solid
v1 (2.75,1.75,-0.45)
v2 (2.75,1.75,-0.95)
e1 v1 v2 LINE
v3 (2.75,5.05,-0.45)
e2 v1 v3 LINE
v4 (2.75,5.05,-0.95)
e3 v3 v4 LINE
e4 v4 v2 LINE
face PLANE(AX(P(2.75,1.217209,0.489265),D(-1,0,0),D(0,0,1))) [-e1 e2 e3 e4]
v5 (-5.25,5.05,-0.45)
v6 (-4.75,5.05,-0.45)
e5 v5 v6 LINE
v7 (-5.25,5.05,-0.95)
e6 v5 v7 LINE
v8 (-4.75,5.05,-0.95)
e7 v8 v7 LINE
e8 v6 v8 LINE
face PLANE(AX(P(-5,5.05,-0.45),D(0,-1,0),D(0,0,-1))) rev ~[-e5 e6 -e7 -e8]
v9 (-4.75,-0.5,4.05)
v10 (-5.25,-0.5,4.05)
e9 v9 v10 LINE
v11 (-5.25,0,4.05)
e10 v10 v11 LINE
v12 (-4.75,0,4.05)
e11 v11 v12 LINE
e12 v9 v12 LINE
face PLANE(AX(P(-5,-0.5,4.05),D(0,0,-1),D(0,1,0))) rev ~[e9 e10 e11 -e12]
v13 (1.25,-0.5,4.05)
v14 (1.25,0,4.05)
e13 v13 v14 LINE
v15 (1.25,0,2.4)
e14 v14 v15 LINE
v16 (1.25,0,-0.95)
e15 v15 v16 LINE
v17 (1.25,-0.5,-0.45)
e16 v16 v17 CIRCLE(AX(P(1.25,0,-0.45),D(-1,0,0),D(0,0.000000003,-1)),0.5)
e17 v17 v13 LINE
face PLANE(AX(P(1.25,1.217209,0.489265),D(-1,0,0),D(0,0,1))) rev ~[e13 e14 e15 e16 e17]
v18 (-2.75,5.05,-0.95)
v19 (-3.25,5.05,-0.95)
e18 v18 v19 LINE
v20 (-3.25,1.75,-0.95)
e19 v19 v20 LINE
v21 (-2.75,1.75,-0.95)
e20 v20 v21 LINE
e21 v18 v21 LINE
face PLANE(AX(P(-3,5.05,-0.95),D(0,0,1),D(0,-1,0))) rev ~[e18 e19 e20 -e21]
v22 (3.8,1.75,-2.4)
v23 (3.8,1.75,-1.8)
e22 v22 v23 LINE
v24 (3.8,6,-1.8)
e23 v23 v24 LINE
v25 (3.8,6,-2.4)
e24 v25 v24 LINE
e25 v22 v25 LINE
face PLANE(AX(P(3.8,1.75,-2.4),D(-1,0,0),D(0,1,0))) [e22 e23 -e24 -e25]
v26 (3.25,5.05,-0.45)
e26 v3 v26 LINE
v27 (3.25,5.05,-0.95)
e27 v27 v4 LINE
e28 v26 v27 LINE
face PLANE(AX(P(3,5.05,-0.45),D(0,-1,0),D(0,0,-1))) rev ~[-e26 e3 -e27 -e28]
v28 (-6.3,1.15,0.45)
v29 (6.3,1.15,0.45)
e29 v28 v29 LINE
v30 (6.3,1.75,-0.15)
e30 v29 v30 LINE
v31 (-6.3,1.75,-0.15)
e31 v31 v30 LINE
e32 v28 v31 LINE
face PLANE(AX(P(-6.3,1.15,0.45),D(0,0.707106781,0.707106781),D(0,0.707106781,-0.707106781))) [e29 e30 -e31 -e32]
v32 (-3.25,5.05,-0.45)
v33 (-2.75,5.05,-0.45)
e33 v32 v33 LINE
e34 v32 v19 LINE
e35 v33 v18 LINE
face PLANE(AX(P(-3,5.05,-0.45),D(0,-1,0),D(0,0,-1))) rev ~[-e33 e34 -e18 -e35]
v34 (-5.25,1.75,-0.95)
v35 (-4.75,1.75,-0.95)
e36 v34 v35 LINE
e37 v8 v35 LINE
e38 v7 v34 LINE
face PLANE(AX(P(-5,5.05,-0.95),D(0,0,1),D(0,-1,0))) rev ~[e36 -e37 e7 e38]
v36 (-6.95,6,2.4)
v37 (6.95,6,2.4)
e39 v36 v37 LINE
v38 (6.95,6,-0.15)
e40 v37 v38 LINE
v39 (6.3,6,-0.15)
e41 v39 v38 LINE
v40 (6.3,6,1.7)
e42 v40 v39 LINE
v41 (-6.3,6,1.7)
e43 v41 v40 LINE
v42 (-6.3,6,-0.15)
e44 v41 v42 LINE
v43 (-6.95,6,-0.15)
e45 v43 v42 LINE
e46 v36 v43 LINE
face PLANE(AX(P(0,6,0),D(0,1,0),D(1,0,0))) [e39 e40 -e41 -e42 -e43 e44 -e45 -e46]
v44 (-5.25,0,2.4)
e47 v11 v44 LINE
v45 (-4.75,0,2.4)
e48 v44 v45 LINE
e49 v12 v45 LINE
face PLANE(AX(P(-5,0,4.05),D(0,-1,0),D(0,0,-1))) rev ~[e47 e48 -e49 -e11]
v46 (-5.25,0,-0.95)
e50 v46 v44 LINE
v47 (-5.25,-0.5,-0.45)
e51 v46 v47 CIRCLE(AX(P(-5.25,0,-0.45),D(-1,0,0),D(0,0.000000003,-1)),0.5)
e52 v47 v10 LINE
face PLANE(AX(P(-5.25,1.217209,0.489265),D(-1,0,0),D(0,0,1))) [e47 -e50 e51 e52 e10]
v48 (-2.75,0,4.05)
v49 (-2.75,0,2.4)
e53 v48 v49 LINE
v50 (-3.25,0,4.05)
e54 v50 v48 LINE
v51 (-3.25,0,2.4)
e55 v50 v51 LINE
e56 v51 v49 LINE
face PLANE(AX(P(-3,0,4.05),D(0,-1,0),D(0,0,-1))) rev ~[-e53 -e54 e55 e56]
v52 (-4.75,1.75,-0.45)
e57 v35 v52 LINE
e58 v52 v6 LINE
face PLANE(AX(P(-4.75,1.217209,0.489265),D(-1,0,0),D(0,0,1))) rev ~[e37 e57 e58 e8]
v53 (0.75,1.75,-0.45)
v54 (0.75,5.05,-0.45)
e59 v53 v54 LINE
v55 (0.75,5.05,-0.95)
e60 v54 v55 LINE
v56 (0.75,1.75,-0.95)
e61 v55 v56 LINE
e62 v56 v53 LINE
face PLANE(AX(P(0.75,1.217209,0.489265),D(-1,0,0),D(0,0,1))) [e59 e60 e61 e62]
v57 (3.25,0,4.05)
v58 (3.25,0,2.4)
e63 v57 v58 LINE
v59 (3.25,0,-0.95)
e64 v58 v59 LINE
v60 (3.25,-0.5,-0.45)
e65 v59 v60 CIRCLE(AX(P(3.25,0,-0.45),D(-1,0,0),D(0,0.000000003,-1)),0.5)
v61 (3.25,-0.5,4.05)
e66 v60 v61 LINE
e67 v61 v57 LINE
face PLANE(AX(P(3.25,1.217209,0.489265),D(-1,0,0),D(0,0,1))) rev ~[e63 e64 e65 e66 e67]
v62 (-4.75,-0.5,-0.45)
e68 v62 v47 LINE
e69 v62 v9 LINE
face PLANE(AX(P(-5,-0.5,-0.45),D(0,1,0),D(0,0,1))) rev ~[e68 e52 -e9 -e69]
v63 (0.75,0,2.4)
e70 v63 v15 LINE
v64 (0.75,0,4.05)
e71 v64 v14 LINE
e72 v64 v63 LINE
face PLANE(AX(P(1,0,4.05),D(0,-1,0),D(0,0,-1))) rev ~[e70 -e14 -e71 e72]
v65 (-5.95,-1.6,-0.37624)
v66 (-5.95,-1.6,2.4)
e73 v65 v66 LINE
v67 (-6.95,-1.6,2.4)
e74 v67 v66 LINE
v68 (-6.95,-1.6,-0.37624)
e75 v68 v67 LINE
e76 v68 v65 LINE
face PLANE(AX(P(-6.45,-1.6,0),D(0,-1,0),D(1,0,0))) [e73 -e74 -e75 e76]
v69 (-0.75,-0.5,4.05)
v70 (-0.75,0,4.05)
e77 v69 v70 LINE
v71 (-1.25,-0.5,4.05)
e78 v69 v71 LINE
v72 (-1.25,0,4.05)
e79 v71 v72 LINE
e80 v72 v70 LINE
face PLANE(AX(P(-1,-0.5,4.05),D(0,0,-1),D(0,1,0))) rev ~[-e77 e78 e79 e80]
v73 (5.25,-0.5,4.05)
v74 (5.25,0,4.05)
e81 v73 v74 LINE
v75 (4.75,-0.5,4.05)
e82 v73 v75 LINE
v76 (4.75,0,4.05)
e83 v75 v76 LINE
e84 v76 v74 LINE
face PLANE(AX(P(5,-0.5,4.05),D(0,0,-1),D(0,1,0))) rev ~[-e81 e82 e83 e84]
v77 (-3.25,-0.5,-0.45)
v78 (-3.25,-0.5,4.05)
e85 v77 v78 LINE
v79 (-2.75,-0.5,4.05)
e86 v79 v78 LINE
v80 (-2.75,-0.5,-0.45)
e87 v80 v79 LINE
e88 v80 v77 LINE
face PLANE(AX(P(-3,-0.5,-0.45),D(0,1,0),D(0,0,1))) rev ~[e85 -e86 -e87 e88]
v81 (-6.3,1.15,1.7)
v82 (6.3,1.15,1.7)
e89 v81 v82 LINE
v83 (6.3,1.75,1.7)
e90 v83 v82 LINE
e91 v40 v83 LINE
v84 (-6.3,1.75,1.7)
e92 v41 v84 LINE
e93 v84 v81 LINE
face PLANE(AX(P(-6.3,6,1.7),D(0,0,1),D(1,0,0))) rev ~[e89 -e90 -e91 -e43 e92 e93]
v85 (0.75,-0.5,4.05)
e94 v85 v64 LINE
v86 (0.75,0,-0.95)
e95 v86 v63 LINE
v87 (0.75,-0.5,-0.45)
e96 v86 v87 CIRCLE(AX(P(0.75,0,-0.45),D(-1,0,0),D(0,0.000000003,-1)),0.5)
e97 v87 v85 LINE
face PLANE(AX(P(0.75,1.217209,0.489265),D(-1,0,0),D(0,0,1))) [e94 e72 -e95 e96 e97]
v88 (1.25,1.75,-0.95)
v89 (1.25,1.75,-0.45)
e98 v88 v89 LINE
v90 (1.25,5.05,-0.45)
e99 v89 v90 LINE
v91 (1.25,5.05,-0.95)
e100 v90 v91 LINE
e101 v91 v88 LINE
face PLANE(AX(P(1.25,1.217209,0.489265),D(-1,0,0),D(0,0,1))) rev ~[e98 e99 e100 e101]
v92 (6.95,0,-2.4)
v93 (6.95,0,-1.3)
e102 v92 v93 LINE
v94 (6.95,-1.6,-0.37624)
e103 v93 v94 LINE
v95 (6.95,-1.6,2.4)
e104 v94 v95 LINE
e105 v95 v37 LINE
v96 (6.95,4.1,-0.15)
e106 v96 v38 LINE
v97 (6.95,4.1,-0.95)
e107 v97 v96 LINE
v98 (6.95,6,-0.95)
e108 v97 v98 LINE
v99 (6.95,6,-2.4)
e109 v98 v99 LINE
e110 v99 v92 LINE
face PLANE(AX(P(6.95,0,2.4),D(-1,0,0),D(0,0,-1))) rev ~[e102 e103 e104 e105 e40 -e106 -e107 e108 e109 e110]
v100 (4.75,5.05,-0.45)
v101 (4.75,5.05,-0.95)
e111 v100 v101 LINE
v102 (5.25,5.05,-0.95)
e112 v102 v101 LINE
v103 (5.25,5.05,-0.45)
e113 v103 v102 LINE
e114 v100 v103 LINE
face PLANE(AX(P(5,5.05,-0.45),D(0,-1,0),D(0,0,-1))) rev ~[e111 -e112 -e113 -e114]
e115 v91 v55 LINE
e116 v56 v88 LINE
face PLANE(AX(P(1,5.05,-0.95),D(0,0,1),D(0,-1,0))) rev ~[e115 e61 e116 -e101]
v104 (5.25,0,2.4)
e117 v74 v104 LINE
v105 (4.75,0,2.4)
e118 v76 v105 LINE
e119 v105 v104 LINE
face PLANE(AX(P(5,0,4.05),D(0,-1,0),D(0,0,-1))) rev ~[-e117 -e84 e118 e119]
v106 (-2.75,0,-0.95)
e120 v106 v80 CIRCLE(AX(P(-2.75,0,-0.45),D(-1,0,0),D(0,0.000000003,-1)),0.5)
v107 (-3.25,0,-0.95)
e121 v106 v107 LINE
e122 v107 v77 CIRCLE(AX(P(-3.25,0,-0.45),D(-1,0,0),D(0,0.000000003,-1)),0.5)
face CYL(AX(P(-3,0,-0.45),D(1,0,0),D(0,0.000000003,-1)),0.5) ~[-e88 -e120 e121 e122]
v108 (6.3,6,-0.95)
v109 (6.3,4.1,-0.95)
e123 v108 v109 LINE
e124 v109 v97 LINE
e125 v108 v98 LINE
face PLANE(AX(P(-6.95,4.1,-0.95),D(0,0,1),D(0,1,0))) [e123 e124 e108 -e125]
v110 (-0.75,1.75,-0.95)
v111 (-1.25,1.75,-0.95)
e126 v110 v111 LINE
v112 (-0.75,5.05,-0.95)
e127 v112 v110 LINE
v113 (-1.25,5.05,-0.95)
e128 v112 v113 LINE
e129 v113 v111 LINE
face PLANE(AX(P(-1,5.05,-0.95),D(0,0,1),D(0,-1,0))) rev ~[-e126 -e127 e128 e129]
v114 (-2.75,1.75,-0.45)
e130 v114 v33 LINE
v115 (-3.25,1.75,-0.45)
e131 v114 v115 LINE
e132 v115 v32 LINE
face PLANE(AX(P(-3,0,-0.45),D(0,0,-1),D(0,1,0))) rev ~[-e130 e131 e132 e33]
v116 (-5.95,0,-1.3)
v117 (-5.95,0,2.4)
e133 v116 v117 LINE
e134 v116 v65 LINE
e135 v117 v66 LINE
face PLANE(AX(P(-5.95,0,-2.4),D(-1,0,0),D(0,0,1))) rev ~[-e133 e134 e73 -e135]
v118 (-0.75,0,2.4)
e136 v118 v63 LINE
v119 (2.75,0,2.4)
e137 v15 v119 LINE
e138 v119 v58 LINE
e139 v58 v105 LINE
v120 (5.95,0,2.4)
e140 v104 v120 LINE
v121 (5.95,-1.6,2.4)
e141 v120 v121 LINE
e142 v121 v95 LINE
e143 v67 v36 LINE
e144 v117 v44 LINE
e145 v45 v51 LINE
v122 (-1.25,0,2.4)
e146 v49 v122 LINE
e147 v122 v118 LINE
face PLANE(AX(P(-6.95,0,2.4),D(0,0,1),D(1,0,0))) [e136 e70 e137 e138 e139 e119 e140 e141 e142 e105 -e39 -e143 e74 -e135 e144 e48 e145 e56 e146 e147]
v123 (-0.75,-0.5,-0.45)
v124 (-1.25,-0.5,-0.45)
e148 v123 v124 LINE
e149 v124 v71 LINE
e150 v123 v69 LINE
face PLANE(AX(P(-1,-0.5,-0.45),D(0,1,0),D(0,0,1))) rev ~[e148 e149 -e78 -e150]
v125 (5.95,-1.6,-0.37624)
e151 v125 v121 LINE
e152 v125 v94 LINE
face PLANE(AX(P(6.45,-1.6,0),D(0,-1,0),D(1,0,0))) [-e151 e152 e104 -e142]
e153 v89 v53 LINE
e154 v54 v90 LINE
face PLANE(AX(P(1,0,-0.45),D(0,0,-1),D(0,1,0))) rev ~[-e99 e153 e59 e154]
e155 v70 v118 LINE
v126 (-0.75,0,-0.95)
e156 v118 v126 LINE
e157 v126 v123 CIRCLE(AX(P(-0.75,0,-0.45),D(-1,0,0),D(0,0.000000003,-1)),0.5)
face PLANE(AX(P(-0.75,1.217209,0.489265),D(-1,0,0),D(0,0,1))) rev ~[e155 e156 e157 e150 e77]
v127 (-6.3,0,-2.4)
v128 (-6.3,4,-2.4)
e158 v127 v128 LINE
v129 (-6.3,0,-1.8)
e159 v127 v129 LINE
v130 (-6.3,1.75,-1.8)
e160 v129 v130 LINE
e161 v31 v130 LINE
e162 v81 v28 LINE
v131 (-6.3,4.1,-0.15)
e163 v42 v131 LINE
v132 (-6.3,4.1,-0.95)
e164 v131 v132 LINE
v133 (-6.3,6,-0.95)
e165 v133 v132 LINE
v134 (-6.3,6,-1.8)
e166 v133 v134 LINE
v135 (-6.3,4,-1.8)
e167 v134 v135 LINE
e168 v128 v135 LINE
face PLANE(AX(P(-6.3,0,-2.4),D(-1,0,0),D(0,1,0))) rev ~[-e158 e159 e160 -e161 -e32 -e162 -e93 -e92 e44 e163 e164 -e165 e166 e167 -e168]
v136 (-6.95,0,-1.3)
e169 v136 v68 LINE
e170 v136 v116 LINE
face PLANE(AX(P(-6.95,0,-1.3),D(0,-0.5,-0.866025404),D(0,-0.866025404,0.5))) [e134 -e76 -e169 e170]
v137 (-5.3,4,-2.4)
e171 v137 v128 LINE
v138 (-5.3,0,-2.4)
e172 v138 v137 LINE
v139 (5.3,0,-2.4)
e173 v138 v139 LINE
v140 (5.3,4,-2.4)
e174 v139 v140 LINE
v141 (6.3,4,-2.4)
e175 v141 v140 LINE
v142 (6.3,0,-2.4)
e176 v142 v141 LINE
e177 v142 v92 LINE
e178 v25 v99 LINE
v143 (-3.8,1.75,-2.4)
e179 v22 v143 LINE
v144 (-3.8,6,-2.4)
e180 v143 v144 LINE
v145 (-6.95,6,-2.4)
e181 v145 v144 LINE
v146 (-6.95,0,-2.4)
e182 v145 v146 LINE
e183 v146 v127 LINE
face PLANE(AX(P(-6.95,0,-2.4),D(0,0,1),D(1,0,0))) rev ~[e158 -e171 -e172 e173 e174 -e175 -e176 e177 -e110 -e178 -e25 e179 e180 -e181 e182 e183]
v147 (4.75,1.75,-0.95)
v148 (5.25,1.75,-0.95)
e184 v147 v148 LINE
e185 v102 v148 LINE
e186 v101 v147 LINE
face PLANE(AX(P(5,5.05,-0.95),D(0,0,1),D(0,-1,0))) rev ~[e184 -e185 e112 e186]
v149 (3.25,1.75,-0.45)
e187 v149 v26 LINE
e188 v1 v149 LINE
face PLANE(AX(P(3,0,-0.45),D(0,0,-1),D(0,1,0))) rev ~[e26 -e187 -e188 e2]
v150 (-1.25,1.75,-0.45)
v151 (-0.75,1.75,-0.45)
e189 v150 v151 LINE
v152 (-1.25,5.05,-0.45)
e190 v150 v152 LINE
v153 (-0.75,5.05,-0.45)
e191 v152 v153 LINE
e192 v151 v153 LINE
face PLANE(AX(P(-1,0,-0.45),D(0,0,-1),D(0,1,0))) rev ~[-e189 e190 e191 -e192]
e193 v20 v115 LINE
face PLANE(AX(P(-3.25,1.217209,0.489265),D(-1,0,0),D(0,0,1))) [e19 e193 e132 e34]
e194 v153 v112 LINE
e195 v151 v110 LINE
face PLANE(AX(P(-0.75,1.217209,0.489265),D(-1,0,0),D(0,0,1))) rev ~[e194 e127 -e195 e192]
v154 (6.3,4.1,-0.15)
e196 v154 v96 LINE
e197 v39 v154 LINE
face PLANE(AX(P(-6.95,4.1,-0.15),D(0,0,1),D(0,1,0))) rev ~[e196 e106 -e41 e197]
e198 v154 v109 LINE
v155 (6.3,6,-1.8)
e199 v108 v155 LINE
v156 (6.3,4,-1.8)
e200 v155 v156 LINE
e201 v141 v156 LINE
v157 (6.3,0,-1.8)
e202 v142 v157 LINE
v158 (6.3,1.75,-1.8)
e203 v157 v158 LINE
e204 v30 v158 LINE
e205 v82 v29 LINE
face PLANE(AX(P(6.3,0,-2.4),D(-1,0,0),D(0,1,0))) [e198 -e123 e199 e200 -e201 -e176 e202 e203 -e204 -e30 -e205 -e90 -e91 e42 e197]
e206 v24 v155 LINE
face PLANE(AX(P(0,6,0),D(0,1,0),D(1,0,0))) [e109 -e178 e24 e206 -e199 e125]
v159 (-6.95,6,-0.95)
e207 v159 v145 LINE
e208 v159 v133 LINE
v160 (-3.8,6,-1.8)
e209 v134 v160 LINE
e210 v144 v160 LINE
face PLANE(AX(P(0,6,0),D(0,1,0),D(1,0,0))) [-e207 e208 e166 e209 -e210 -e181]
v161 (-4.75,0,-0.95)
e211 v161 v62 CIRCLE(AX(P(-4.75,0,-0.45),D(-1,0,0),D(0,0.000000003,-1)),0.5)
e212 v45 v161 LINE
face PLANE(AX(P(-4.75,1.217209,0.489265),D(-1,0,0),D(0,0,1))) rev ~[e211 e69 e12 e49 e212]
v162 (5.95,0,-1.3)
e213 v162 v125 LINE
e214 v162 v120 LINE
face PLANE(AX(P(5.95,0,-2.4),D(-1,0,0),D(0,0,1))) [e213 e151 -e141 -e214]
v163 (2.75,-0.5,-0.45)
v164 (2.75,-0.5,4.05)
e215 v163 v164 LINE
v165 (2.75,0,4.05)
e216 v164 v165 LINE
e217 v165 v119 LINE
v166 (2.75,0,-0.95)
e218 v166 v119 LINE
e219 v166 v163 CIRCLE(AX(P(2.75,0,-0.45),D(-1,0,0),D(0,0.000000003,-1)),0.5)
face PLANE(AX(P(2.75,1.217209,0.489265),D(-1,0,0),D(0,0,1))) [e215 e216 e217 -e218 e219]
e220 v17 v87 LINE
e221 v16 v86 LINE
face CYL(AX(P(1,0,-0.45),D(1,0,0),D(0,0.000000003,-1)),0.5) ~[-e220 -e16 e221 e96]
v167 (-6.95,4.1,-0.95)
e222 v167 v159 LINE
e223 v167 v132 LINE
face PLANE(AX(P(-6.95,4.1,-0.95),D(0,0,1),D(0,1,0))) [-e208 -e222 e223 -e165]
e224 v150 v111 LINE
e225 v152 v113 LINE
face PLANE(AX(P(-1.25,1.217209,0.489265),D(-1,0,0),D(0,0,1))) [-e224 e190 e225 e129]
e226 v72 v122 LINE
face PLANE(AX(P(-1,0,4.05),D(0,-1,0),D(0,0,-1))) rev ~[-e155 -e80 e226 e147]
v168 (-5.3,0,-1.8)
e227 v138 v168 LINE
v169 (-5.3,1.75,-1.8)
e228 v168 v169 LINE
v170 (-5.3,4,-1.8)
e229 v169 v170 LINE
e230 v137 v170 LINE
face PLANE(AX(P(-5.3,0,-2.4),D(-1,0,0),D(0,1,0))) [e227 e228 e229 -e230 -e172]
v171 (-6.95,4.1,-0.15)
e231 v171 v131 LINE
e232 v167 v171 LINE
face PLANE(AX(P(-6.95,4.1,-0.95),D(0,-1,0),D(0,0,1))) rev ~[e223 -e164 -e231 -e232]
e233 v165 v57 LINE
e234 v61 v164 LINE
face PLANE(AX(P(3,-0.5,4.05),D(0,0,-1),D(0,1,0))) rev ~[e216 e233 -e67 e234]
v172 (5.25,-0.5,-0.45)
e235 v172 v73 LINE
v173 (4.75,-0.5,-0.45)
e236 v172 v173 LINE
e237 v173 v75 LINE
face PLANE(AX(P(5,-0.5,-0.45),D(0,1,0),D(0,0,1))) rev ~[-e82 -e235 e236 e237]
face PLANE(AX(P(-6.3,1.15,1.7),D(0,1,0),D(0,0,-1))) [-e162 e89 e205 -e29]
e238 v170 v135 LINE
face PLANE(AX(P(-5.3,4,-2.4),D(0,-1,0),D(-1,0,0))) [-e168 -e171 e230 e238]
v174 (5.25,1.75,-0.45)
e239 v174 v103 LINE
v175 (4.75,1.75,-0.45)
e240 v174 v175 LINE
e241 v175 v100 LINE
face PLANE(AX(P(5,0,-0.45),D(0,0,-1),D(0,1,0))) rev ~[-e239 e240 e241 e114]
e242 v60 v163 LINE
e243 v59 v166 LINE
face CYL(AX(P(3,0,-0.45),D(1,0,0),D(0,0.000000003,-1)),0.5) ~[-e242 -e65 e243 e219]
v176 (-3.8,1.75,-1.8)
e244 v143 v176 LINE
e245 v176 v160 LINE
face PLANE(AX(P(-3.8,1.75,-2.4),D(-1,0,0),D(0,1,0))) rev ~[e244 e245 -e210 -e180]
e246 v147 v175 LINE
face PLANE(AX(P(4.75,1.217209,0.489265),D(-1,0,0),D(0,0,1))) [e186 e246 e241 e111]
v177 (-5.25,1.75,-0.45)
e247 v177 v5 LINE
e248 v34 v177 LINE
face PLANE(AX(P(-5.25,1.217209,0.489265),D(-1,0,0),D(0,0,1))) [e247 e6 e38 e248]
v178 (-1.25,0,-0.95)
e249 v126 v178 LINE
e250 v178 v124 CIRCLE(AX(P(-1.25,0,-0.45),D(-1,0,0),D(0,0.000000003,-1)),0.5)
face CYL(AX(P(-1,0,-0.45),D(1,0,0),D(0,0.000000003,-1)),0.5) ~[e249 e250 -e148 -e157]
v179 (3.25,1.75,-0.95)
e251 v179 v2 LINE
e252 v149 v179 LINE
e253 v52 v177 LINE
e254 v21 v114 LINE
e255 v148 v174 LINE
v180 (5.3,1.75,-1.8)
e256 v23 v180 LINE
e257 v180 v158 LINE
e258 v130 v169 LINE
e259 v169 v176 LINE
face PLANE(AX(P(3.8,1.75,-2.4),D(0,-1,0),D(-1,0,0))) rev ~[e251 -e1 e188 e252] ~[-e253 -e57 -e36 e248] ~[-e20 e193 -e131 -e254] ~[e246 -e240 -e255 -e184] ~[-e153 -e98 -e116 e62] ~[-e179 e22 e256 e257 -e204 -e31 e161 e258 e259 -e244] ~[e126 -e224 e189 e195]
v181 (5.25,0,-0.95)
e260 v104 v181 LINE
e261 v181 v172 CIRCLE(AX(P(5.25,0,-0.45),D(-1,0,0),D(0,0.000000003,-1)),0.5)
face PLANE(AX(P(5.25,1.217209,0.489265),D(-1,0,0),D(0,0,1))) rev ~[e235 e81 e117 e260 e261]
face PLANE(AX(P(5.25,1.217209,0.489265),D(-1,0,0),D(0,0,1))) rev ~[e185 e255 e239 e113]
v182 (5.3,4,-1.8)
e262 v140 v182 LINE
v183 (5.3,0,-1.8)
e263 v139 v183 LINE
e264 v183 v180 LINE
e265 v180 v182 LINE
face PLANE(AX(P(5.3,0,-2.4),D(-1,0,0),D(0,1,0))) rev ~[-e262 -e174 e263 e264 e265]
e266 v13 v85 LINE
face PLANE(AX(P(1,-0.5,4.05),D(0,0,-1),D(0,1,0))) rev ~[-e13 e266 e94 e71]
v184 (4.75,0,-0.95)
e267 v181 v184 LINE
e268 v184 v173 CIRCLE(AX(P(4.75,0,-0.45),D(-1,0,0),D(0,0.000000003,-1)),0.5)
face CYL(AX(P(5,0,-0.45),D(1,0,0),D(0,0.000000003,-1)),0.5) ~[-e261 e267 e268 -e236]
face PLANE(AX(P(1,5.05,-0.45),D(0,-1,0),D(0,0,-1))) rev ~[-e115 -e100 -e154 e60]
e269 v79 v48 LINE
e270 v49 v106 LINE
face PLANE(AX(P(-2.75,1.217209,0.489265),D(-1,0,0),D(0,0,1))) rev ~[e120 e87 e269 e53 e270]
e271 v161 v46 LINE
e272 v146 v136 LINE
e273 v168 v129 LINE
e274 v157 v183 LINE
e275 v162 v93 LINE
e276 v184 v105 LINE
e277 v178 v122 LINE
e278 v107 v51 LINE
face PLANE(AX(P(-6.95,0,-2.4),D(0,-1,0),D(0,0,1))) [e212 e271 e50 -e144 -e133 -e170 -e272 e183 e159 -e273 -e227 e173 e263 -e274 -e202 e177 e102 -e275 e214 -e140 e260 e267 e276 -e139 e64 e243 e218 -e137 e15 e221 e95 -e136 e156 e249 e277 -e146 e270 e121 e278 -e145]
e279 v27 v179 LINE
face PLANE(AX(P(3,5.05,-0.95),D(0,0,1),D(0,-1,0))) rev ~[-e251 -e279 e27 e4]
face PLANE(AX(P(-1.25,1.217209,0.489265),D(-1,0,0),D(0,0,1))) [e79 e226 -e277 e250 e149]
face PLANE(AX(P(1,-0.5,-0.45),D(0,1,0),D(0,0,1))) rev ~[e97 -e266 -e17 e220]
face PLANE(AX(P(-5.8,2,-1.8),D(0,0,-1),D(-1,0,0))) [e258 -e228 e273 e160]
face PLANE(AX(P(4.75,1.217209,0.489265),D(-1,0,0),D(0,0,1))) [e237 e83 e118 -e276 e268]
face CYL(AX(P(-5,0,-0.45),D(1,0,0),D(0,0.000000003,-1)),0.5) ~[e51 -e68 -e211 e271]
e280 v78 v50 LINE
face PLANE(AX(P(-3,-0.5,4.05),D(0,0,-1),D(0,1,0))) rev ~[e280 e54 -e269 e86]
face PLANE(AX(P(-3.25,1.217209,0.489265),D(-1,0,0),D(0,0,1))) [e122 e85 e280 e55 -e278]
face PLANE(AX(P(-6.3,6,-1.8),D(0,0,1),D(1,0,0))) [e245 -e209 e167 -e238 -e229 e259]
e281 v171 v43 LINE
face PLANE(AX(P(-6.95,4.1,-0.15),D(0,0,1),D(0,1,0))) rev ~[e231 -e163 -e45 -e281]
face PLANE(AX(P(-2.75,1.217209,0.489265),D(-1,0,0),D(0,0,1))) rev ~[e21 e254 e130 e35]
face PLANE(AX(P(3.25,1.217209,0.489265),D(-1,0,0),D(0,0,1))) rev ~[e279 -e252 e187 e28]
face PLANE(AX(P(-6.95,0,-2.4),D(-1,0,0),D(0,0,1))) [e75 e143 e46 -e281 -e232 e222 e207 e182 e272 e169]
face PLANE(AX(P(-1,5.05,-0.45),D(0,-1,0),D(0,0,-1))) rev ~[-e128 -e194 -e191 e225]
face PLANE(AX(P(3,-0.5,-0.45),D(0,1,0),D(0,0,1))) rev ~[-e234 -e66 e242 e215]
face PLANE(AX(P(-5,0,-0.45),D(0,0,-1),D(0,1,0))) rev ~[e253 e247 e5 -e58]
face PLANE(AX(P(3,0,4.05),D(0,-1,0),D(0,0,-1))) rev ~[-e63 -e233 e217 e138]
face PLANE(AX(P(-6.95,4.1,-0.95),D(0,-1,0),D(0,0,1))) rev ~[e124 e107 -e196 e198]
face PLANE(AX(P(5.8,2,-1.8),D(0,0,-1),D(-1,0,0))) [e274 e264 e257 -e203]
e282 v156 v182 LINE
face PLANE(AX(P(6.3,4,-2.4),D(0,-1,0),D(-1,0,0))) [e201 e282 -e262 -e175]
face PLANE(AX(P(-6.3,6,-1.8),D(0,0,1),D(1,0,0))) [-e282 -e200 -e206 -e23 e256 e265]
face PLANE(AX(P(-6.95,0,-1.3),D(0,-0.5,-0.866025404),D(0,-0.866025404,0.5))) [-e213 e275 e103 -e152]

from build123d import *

# Parameters (mm, degrees)
SKETCH1_W           = 13.9
SKETCH1_H           = 4.8
BOSS_EXTRUDE1_DEPTH = 6
SKETCH2_W           = 12.6
SKETCH2_H           = 3.500000001
CUT_EXTRUDE1_DEPTH  = 4.25
SKETCH4_W           = 1
SKETCH4_H           = 4.8
BOSS_EXTRUDE2_DEPTH = 1.6
SKETCH5_W           = 0.8
SKETCH5_H           = 1.9
CUT_EXTRUDE3_DEPTH  = 16.328731193
SKETCH3_W           = 1
SKETCH3_H           = 4.000000001
SKETCH3_W_2         = 7.6
SKETCH3_H_2         = 4.25
CUT_EXTRUDE2_DEPTH  = 0.599999999
CUT_EXTRUDE4_START  = -6.3
CUT_EXTRUDE4_DEPTH  = 12.6
BOSS_EXTRUDE3_START = 5
BOSS_EXTRUDE3_DEPTH = 0.25
LPATTERN1_COUNT     = 6
LPATTERN1_PITCH     = 2


with BuildPart() as part:
    # Sketch1 → Boss-Extrude1 (new body)
    with BuildSketch(Plane(origin=(0, 0, 0), x_dir=(1, 0, 0), z_dir=(0, 1, 0))):
        Rectangle(SKETCH1_W, SKETCH1_H)
    extrude(amount=BOSS_EXTRUDE1_DEPTH)

    # Sketch2 → Cut-Extrude1 (cut)
    with BuildSketch(Plane(origin=(0, 6, 0), x_dir=(1, 0, 0), z_dir=(0, 1, 0))):
        with Locations((0, 0.05)):
            Rectangle(SKETCH2_W, SKETCH2_H)
    extrude(amount=-CUT_EXTRUDE1_DEPTH, mode=Mode.SUBTRACT)

    # Sketch4 → Boss-Extrude2 (add)
    with BuildSketch(Plane.XZ):
        with Locations((-6.45, 0)):
            Rectangle(SKETCH4_W, SKETCH4_H)
        with Locations((6.45, 0)):
            Rectangle(SKETCH4_W, SKETCH4_H)
    extrude(amount=BOSS_EXTRUDE2_DEPTH)

    # Sketch5 → Cut-Extrude3 (cut, through all)
    with BuildSketch(Plane.ZY.offset(6.95)):
        Polygon((-2.4, 0), (-1.3, 0), (-0.376239569, -1.6), (-2.4, -1.6), align=None)
        with Locations((-0.55, 5.05)):
            Rectangle(SKETCH5_W, SKETCH5_H)
    extrude(amount=-CUT_EXTRUDE3_DEPTH, mode=Mode.SUBTRACT)

    # Sketch3 → Cut-Extrude2 (cut)
    with BuildSketch(Plane(origin=(0, 0, -2.4), x_dir=(-1, 0, 0), z_dir=(0, 0, -1))):
        with Locations((-5.8, 2.000000001)):
            Rectangle(SKETCH3_W, SKETCH3_H)
        with Locations((0, 3.875)):
            Rectangle(SKETCH3_W_2, SKETCH3_H_2)
        with Locations((5.8, 2.000000001)):
            Rectangle(SKETCH3_W, SKETCH3_H)
    extrude(amount=-CUT_EXTRUDE2_DEPTH, mode=Mode.SUBTRACT)

    # Sketch6 → Cut-Extrude4 (cut)
    with BuildSketch(Plane(origin=(0, 0, 0), x_dir=(0, 0, -1), z_dir=(1, 0, 0)).offset(CUT_EXTRUDE4_START)):
        Polygon((0.15, 1.75), (-1.7, 1.75), (-1.7, 1.15), (-0.45, 1.15), align=None)
    extrude(amount=CUT_EXTRUDE4_DEPTH, mode=Mode.SUBTRACT)


with BuildPart() as body_2:
    # Sketch7 → Boss-Extrude3 (new, symmetric)
    with BuildSketch(Plane(origin=(0, 0, 0), x_dir=(0, 0, -1), z_dir=(1, 0, 0)).offset(BOSS_EXTRUDE3_START)):
        with BuildLine():
            Line((0.45, 5.05), (0.95, 5.05))
            Line((0.95, 5.05), (0.95, 0))
            ThreePointArc((0.95, 0), (0.803553391, -0.353553391), (0.45, -0.5))
            Line((0.45, -0.5), (-4.05, -0.5))
            Line((-4.05, -0.5), (-4.05, 0))
            Line((-4.05, 0), (0.45, 0))
            Line((0.45, 0), (0.45, 5.05))
        make_face()
    extrude(amount=BOSS_EXTRUDE3_DEPTH, both=True)


with BuildPart() as lpattern1_1:
    # LPattern1: pattern copy
    add(body_2.part.moved(Location(Vector(-1, 0, 0) * (1 * LPATTERN1_PITCH))))


with BuildPart() as lpattern1_2:
    # LPattern1: pattern copy
    add(body_2.part.moved(Location(Vector(-1, 0, 0) * (2 * LPATTERN1_PITCH))))


with BuildPart() as lpattern1_3:
    # LPattern1: pattern copy
    add(body_2.part.moved(Location(Vector(-1, 0, 0) * (3 * LPATTERN1_PITCH))))


with BuildPart() as lpattern1_4:
    # LPattern1: pattern copy
    add(body_2.part.moved(Location(Vector(-1, 0, 0) * (4 * LPATTERN1_PITCH))))


with BuildPart() as lpattern1_5:
    # LPattern1: pattern copy
    add(body_2.part.moved(Location(Vector(-1, 0, 0) * (5 * LPATTERN1_PITCH))))


with BuildPart() as lpattern1_4_1:
    add(lpattern1_4.part)

    # Combine1: union body 2, LPattern1_2, LPattern1_5, part, LPattern1_3, LPattern1_1
    add(body_2.part)
    add(lpattern1_2.part)
    add(lpattern1_5.part)
    add(part.part)
    add(lpattern1_3.part)
    add(lpattern1_1.part)


solid = lpattern1_4_1.part
